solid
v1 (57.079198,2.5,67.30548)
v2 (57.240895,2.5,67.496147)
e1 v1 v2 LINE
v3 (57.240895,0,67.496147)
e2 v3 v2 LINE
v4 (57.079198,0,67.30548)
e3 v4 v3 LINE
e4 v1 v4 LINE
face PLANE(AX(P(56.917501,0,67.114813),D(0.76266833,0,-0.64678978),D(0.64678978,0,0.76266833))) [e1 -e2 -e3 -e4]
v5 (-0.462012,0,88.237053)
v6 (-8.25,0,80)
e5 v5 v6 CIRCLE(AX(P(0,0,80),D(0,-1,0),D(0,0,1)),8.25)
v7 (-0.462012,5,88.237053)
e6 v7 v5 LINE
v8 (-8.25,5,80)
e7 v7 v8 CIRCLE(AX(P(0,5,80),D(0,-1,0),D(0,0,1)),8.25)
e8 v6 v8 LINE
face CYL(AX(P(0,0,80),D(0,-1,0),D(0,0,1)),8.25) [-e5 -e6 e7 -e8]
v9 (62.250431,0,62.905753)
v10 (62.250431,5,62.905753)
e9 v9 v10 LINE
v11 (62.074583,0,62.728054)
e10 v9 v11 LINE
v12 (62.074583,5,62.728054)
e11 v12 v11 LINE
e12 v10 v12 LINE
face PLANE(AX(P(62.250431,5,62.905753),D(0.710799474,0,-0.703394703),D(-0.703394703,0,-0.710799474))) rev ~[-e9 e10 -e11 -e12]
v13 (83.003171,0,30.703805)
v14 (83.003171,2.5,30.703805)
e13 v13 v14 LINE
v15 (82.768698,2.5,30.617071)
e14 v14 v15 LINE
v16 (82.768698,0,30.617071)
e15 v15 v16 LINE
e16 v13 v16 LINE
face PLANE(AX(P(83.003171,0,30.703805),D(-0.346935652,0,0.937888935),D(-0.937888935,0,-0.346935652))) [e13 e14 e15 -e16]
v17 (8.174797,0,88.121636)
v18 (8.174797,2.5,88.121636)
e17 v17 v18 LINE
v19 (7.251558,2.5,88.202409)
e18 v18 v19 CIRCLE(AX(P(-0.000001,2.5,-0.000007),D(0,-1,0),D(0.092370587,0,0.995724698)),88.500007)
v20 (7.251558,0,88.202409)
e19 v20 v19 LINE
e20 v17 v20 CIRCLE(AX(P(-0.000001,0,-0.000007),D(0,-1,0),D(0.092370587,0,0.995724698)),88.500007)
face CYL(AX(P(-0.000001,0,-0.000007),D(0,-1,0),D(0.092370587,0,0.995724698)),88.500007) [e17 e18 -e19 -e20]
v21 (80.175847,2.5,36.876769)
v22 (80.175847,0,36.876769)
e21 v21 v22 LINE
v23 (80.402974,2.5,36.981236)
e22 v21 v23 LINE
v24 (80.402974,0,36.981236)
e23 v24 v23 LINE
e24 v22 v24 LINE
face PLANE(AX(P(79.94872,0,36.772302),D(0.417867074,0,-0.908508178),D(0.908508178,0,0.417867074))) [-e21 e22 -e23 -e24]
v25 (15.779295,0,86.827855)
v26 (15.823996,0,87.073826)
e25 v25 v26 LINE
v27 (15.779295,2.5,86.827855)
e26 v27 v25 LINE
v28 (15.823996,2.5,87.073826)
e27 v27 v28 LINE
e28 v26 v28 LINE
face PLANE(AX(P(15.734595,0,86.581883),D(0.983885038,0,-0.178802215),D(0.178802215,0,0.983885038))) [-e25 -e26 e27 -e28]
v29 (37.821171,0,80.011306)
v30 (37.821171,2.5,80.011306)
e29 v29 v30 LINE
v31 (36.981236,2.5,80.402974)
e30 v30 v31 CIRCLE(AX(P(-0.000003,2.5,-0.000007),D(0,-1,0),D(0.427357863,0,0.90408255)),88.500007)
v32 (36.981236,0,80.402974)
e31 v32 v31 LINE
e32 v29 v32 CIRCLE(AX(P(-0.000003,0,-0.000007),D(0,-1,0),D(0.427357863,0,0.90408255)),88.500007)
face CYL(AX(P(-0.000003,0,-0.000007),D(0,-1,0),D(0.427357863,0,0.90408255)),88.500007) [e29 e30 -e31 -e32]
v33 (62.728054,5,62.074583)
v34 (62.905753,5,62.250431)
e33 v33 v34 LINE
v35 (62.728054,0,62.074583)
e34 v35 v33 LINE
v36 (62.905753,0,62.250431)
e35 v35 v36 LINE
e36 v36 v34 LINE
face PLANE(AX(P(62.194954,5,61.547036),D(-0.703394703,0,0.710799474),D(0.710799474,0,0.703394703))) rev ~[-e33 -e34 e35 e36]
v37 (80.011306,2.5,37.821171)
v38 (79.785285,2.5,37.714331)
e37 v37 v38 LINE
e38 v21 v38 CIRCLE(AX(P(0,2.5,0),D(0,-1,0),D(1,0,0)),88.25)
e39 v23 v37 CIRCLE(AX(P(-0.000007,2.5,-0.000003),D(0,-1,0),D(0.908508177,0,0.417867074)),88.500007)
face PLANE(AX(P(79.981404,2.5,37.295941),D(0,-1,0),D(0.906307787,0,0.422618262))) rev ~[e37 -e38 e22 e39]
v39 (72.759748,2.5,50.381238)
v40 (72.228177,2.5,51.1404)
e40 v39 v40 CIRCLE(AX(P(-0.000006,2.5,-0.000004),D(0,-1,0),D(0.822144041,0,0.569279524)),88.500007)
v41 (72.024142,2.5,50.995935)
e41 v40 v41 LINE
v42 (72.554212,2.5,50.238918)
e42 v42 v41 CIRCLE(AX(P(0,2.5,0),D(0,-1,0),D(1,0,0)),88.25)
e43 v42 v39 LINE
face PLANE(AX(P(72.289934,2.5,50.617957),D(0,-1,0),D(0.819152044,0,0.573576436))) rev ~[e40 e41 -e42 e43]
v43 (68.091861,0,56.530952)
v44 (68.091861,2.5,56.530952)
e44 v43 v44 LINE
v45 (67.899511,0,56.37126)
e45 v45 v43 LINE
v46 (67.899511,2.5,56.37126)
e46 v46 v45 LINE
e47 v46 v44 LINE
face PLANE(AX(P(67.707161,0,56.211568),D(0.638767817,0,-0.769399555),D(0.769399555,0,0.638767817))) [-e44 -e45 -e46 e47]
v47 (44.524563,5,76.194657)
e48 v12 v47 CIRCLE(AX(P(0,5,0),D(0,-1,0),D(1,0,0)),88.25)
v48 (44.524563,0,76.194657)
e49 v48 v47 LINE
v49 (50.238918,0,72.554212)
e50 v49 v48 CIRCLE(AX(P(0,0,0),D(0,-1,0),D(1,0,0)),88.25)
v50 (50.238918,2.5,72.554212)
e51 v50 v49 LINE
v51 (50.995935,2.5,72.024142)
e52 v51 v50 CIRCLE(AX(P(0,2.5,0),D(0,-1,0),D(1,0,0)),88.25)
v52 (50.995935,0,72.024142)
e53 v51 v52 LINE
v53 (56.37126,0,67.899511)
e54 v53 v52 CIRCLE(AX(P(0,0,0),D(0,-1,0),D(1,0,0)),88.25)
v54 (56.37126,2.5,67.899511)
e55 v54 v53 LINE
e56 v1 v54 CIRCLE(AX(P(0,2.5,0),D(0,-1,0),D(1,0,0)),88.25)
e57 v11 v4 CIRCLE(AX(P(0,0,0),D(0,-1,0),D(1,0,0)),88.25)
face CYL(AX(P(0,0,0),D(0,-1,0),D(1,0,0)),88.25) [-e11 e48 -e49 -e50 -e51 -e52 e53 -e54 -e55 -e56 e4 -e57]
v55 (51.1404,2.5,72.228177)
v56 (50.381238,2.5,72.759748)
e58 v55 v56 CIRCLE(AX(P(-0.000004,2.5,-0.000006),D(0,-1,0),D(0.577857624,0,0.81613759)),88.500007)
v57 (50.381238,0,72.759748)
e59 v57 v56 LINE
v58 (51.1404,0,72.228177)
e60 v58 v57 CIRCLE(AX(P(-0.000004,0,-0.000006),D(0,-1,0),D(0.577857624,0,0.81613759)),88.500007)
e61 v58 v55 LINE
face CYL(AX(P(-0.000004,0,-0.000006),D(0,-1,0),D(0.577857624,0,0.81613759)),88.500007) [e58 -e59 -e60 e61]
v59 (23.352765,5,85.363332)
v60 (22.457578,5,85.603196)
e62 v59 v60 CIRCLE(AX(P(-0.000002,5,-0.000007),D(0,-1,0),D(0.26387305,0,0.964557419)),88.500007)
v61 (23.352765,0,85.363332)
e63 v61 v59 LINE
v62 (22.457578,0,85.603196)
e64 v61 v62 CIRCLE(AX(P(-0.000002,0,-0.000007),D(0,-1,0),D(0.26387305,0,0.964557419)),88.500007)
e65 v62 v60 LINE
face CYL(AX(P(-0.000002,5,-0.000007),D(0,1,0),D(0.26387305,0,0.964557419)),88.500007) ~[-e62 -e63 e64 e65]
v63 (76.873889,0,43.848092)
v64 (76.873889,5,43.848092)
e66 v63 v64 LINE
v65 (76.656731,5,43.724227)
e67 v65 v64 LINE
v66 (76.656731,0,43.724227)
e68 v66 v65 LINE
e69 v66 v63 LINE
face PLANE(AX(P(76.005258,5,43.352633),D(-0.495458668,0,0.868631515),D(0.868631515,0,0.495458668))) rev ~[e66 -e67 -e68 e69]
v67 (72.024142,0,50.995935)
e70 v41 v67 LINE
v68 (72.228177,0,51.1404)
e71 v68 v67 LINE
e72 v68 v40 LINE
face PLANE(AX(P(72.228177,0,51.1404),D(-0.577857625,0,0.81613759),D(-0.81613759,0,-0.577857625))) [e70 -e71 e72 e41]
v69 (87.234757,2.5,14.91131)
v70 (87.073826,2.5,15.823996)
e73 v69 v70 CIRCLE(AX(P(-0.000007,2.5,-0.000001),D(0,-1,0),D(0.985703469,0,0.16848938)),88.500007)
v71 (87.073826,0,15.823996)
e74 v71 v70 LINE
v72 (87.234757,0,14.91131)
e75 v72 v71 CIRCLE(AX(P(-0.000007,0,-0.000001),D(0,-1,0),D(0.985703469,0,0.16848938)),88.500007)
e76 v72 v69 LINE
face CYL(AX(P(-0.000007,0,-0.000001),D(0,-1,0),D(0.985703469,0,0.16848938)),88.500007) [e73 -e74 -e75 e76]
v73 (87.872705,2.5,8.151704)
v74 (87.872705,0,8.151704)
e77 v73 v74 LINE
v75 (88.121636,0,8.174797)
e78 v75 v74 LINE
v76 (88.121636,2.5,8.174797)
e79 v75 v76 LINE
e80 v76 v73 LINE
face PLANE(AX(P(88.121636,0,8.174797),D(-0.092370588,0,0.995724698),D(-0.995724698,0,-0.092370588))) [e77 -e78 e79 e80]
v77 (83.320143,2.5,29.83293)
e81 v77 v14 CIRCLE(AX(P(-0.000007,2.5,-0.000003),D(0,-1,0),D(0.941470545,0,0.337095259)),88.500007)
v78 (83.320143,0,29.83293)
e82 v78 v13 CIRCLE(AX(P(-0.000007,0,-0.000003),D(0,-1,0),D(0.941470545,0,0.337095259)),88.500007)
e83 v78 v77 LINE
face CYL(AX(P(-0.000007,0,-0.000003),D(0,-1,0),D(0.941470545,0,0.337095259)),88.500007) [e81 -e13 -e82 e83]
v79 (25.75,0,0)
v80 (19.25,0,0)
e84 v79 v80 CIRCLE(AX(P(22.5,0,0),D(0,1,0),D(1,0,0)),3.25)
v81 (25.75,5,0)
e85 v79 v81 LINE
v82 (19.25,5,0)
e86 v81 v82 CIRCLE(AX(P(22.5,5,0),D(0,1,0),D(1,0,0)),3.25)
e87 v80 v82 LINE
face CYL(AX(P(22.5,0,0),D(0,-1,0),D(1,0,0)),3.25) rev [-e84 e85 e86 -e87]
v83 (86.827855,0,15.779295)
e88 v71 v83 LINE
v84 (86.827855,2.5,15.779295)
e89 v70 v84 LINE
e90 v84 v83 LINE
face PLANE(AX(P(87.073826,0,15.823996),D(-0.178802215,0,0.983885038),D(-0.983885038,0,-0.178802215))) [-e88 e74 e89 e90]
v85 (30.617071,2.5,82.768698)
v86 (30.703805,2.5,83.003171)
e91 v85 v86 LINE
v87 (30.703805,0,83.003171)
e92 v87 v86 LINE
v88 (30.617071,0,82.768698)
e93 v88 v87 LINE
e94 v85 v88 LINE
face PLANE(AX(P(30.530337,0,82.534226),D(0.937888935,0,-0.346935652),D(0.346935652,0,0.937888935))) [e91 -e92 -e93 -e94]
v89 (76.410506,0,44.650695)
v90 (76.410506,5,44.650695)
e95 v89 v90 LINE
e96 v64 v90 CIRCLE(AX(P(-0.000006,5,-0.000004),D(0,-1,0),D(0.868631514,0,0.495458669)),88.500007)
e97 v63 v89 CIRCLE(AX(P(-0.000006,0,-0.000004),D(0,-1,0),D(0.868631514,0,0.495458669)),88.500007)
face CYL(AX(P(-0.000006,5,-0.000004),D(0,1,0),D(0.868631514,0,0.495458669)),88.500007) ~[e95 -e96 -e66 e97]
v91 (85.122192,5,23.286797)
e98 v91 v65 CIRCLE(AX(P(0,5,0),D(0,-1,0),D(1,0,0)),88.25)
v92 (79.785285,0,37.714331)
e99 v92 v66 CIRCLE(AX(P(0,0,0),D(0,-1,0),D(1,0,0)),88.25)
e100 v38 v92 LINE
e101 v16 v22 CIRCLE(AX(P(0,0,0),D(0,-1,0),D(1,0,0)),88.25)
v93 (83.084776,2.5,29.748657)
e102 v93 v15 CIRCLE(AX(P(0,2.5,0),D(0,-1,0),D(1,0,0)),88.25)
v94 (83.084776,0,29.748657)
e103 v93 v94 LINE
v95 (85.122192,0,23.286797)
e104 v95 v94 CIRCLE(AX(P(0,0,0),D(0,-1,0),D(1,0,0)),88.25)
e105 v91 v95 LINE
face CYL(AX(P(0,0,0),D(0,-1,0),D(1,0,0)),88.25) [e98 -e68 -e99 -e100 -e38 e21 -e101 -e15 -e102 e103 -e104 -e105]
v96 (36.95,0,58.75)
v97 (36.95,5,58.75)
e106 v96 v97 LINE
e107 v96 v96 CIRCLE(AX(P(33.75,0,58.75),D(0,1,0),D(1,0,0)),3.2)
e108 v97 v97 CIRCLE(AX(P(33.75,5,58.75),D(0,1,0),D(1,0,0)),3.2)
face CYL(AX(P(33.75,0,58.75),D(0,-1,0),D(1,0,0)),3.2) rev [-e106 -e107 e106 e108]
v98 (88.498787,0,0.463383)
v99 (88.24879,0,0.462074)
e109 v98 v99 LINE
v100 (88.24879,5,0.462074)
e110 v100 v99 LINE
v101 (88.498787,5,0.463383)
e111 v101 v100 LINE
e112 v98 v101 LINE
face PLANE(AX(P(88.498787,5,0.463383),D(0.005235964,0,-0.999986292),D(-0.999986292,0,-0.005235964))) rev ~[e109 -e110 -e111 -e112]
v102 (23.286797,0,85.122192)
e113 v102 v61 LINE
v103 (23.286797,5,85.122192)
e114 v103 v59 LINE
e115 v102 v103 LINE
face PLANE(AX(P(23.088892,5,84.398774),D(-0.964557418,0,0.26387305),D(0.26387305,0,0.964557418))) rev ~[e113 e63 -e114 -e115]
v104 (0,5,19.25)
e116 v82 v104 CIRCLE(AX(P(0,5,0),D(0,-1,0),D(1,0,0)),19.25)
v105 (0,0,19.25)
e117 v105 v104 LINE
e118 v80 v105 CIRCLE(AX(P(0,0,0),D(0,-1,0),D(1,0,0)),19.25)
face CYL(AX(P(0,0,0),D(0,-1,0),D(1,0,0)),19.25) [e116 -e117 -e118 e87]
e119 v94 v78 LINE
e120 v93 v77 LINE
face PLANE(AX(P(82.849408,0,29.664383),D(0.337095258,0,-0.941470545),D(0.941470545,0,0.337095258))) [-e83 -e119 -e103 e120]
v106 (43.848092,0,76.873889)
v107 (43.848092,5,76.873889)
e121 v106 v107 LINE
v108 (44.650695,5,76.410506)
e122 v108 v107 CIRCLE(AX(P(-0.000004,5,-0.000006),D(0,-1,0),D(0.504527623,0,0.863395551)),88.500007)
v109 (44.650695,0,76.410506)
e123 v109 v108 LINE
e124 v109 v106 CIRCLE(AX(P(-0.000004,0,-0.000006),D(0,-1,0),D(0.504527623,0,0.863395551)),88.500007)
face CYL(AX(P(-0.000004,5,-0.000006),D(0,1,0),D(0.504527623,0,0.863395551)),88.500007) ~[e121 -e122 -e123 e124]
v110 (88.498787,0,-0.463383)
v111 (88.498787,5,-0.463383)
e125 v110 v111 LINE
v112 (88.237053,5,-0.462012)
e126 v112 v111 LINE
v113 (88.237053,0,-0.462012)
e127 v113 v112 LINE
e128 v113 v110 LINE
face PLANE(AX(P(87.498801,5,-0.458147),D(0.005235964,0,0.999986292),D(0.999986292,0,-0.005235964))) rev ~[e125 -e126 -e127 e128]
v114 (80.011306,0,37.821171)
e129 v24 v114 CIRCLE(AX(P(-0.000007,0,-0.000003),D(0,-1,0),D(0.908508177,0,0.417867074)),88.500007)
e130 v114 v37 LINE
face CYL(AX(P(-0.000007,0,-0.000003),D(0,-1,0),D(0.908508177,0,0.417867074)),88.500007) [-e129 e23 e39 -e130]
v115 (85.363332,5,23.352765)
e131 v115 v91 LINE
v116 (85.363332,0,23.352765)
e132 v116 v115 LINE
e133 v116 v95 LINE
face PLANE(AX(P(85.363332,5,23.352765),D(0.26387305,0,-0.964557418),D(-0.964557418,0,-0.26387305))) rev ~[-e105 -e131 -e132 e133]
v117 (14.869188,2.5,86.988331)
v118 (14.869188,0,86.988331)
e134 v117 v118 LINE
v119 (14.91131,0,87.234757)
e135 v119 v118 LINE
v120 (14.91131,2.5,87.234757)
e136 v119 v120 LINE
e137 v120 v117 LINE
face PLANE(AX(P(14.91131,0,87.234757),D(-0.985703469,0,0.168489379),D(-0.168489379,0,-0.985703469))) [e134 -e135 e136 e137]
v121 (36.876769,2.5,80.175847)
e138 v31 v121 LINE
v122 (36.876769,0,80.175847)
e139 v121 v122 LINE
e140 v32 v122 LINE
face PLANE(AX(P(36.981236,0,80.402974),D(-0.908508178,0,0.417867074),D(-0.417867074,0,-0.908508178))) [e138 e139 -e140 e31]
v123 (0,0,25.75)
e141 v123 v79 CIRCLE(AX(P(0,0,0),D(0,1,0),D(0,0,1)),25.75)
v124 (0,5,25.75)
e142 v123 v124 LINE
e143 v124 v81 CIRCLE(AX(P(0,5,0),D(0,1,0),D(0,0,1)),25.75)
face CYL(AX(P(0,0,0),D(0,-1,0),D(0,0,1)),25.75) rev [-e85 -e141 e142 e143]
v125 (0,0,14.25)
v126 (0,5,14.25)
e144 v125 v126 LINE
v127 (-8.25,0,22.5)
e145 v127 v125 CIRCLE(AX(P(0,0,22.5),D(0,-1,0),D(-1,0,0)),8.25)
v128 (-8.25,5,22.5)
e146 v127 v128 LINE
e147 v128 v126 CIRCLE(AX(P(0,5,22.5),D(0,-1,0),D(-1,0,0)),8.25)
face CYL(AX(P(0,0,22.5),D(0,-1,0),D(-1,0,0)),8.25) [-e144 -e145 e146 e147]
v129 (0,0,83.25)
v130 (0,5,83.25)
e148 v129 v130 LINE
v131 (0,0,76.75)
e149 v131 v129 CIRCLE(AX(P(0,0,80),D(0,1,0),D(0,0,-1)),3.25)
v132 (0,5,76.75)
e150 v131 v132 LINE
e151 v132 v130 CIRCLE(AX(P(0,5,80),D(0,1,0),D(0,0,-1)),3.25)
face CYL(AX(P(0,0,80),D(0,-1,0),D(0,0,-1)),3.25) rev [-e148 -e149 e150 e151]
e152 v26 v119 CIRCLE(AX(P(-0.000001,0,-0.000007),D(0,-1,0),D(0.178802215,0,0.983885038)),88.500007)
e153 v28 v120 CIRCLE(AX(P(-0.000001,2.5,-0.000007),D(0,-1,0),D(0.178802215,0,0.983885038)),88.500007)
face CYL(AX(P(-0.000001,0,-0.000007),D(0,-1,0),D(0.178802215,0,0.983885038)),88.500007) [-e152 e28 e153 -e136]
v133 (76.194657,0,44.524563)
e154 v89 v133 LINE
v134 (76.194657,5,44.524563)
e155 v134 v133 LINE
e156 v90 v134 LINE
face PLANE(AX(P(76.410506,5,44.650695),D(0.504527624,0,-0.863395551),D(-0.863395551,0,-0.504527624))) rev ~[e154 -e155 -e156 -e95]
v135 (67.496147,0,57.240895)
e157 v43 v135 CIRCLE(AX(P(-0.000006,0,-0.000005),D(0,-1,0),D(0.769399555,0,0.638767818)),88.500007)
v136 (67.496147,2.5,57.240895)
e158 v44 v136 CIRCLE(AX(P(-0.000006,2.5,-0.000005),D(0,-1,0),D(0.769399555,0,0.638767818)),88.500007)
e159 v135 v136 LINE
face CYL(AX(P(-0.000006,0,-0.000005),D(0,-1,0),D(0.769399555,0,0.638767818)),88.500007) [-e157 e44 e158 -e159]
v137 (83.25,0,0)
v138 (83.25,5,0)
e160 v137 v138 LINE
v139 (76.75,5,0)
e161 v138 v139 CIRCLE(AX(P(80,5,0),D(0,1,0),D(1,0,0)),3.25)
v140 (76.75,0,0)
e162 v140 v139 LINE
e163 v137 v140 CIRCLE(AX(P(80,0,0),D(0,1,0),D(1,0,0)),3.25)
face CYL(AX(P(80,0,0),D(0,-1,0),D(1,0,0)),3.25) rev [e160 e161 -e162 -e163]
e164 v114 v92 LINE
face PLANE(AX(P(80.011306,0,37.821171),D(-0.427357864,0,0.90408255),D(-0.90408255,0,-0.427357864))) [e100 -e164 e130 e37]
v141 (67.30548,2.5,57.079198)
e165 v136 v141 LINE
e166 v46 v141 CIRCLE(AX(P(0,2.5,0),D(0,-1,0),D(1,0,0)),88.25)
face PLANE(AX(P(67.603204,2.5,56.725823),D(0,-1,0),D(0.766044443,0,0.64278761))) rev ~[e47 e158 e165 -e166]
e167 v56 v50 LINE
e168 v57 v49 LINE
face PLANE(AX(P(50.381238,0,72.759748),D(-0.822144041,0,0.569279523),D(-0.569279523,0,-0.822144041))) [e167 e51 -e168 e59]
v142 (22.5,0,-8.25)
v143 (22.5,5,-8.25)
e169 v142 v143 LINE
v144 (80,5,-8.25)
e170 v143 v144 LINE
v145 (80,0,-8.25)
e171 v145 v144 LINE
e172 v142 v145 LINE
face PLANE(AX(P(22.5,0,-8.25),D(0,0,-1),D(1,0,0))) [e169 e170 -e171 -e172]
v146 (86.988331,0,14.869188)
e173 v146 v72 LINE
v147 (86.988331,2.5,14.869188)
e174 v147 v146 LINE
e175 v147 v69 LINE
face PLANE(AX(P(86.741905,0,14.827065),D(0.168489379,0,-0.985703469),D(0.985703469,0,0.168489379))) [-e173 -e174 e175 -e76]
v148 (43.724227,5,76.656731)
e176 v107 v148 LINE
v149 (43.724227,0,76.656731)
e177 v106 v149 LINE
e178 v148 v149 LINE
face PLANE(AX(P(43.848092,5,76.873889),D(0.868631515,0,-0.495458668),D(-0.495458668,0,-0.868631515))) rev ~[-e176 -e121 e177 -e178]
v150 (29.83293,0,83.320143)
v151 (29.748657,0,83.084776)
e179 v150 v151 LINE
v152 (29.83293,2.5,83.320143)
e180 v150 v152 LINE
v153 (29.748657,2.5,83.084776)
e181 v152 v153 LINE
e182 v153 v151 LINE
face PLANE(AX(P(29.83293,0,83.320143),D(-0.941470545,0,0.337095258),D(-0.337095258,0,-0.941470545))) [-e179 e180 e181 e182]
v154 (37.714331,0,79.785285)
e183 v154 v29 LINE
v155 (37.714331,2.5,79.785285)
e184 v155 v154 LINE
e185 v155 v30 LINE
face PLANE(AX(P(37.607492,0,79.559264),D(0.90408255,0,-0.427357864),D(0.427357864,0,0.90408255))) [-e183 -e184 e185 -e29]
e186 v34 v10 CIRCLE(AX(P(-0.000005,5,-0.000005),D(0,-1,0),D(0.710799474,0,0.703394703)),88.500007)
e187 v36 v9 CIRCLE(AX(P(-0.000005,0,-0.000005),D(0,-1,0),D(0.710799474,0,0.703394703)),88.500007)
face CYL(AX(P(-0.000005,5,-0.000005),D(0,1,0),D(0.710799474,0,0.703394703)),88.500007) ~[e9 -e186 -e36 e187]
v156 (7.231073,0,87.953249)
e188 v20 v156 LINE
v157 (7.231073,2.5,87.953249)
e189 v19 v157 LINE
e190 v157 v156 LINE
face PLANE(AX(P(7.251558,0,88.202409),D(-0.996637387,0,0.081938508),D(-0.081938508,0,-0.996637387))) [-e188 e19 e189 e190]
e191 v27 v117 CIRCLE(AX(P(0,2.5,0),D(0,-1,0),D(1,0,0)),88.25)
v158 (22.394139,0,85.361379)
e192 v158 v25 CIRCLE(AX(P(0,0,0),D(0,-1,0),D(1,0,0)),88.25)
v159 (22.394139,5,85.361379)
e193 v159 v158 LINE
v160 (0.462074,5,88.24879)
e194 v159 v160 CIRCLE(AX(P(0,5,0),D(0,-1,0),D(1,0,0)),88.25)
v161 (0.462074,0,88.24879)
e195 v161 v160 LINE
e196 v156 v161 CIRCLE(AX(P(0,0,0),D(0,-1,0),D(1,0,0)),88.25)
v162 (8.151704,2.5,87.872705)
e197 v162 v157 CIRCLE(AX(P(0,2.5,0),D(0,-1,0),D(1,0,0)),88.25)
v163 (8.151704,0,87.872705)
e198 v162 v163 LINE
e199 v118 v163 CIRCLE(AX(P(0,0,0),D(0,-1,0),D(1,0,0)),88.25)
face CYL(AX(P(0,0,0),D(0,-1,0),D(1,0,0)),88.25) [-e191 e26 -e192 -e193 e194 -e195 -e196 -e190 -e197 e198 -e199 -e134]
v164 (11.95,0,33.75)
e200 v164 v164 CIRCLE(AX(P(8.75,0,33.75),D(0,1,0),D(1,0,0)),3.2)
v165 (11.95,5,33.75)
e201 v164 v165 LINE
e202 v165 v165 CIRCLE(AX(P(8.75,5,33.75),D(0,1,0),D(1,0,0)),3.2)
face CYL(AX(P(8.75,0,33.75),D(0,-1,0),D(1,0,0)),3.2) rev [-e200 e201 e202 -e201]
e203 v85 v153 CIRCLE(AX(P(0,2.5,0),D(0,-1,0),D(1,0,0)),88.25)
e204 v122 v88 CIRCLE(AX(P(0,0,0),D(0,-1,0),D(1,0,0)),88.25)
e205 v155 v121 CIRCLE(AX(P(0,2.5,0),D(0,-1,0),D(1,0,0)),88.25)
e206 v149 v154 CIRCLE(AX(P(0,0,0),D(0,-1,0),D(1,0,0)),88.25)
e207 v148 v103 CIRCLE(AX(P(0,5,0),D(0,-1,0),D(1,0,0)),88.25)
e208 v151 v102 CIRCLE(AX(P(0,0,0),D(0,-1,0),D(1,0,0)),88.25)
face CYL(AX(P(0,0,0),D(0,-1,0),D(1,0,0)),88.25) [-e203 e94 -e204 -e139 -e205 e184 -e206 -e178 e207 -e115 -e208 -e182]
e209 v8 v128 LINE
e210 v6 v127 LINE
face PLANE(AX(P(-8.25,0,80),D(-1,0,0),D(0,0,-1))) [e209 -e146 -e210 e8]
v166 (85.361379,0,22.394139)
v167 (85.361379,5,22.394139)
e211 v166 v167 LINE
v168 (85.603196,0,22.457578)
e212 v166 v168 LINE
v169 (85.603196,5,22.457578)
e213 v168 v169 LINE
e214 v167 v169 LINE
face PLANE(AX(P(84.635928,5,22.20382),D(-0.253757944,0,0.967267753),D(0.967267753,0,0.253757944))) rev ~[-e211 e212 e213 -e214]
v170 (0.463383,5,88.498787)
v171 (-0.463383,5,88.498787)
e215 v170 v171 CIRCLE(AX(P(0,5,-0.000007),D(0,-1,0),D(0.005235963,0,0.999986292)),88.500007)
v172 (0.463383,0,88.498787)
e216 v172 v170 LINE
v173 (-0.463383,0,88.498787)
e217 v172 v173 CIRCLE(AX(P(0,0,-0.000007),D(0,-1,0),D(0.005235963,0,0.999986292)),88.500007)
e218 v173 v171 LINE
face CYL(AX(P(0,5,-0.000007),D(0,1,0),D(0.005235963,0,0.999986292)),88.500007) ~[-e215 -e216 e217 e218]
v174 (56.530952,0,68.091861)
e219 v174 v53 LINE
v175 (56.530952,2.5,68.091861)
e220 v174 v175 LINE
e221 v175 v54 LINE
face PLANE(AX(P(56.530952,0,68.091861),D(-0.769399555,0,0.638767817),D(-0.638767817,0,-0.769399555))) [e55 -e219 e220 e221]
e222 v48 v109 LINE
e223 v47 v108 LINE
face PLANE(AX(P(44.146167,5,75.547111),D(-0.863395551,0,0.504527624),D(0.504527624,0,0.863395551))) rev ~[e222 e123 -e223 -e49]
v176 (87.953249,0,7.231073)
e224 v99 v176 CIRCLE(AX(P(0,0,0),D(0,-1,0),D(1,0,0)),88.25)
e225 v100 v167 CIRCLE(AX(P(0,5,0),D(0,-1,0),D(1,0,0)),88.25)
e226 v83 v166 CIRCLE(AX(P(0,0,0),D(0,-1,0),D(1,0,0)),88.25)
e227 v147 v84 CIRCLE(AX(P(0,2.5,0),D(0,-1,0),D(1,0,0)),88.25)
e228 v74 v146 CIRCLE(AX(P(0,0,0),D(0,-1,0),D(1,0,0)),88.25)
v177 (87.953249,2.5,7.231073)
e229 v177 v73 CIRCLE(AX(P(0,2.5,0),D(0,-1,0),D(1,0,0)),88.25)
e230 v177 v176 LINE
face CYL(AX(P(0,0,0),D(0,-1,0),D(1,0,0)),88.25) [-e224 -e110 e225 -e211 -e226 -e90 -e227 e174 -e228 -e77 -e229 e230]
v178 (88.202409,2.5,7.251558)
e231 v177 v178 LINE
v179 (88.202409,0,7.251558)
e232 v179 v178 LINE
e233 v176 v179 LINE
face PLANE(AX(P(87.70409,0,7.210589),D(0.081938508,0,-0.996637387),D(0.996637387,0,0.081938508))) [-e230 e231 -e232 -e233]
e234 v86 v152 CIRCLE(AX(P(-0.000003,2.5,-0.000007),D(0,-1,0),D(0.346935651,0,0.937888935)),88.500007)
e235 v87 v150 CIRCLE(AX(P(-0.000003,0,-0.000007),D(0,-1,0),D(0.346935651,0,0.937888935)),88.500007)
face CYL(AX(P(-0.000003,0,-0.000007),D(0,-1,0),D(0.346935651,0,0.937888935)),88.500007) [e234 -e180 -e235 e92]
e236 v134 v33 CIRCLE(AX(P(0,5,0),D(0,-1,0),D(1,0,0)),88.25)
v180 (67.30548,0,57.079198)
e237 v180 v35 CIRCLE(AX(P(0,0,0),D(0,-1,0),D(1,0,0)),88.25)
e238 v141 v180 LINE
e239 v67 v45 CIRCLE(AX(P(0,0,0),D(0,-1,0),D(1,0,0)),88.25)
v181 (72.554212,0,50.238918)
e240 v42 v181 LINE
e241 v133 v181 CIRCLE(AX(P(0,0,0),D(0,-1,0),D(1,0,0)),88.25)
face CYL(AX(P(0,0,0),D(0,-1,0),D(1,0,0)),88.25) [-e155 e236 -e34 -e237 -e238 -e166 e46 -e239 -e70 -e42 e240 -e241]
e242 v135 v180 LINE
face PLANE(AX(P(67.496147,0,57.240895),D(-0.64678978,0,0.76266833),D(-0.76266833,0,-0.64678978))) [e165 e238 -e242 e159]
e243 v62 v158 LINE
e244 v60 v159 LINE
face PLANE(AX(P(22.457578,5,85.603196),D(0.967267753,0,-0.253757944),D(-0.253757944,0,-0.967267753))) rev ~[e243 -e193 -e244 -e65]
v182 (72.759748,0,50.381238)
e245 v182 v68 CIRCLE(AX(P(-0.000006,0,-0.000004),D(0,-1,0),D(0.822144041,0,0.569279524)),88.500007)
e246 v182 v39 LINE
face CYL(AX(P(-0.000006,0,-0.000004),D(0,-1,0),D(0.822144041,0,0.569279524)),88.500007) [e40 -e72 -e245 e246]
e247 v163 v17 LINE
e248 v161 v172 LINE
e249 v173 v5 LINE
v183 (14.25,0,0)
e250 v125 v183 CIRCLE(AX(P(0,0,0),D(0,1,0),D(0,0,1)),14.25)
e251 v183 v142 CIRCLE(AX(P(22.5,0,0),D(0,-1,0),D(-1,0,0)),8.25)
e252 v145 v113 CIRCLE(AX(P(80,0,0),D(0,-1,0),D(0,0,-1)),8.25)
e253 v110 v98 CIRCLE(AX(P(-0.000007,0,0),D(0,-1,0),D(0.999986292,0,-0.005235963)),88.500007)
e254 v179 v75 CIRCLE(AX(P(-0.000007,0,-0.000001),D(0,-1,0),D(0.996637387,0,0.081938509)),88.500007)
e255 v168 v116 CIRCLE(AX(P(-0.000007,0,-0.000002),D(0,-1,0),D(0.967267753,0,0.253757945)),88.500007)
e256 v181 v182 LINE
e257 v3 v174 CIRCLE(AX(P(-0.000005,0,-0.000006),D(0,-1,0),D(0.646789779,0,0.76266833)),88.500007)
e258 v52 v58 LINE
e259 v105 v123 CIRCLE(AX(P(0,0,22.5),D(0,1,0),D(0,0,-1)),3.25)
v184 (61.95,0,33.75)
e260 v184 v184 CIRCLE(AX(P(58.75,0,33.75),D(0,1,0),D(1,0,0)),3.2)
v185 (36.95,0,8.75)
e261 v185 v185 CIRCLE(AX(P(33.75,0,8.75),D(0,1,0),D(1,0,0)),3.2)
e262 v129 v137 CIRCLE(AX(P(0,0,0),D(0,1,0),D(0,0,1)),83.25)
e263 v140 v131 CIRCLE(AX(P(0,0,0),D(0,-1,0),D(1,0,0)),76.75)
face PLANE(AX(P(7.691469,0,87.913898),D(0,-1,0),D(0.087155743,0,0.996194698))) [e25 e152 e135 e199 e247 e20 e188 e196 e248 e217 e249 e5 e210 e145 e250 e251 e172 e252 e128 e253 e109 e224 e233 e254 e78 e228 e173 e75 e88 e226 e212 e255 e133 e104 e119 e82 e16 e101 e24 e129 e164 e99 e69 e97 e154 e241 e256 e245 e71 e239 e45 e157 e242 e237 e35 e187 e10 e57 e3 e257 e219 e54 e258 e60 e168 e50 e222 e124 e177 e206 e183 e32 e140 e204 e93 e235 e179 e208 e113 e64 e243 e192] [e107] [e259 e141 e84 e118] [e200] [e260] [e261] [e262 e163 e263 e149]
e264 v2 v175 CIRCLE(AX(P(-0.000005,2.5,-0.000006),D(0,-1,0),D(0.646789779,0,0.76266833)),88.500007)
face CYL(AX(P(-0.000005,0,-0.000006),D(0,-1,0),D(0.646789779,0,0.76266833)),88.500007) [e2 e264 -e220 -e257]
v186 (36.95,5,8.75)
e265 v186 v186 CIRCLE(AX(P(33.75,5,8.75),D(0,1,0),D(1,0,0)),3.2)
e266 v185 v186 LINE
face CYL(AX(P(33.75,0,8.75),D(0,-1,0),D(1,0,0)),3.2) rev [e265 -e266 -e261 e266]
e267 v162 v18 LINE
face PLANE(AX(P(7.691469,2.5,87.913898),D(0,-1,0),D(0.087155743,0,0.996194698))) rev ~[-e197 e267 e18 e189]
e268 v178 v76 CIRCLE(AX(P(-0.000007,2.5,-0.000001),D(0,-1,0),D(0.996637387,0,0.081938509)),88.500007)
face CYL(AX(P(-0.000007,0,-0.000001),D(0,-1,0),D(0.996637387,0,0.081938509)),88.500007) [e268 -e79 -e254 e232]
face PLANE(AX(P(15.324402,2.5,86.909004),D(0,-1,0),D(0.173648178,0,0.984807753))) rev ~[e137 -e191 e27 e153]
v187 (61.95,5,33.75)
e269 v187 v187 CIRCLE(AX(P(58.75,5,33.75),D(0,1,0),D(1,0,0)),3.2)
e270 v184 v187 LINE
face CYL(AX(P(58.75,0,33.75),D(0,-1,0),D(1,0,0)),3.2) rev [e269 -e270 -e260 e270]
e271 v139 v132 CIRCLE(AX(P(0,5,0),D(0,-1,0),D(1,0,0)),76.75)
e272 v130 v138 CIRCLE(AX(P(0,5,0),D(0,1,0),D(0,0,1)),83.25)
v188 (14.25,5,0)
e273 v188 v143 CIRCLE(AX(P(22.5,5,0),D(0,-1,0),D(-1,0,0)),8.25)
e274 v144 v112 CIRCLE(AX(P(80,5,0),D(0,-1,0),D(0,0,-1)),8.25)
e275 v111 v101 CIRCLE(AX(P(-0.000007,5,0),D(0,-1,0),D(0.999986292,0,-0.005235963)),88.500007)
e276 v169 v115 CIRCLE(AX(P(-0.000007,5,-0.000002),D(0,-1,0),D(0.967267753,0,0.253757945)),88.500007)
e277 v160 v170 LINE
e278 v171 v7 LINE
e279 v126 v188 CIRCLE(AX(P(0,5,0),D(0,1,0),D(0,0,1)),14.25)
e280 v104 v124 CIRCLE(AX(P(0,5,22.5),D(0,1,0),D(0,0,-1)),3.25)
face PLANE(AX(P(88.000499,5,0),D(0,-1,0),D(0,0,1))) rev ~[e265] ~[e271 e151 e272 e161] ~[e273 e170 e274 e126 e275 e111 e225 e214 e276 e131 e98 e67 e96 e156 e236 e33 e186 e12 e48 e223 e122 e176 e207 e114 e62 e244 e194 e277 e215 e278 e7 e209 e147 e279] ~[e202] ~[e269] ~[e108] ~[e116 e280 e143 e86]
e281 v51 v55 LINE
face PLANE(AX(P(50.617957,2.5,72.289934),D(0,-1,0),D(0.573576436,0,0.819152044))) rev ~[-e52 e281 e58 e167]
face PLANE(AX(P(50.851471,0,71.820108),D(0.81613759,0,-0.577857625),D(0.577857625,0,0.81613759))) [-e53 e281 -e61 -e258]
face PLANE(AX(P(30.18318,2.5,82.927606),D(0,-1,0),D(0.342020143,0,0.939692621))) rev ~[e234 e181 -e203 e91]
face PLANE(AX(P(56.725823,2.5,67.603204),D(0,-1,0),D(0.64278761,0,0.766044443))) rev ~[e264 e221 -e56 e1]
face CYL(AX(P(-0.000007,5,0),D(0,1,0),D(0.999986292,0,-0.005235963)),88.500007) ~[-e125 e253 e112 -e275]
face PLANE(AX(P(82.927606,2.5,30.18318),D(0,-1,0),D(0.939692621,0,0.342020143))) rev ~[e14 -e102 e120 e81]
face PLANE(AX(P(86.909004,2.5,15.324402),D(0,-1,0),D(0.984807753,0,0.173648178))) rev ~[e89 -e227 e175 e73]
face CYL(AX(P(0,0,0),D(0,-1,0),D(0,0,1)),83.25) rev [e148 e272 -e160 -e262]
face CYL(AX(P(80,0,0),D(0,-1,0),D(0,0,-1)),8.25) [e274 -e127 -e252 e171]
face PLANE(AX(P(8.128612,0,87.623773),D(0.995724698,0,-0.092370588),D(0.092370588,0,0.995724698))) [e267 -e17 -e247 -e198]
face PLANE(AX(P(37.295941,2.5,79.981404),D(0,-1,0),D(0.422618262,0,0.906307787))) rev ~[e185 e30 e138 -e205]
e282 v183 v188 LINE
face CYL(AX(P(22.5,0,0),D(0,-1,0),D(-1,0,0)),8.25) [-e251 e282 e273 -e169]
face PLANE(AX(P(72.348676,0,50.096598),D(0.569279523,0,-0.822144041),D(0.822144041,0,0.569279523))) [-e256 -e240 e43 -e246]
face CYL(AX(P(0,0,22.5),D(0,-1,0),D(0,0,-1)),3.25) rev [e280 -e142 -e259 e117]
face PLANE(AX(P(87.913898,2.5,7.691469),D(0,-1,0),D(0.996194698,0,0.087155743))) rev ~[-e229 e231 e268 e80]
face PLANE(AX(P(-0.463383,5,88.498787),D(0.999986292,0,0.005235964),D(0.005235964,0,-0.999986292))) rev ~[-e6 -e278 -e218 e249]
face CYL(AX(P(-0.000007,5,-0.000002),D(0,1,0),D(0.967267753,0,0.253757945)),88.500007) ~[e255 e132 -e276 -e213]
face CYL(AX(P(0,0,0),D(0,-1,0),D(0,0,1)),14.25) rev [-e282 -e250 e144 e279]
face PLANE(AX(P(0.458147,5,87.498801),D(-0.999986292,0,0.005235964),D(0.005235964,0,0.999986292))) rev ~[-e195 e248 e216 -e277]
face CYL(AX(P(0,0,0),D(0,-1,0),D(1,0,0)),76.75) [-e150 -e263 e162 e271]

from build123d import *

# Parameters (mm, degrees)
SKETCH_1_R               = 3.2
EXTRUDE_1_DEPTH          = 5
EXTRUDE_2_DEPTH          = 5
PATTERN_CIRCULAR_1_COUNT = 7
PATTERN_CIRCULAR_1_ANGLE = 90
EXTRUDE_3_DEPTH          = 2.5
PATTERN_CIRCULAR_2_COUNT = 19
PATTERN_CIRCULAR_2_ANGLE = 90


with BuildPart() as part:
    # 스케치1 → 보스-돌출1 (new body)
    with BuildSketch(Plane(origin=(0, 0, 0), x_dir=(1, 0, 0), z_dir=(0, 1, 0))):
        with BuildLine():
            Line((-8.25, -80), (-8.25, -22.5))
            ThreePointArc((-8.25, -22.5), (-5.833630945, -16.666369055), (0, -14.25))
            ThreePointArc((0, -14.25), (10.076271632, -10.076271632), (14.25, 0))
            ThreePointArc((14.25, 0), (16.666369055, 5.833630945), (22.5, 8.25))
            Line((22.5, 8.25), (80, 8.25))
            ThreePointArc((80, 8.25), (85.833630945, 5.833630945), (88.25, 0))
            ThreePointArc((88.25, 0), (62.40217344, -62.40217344), (0, -88.25))
            ThreePointArc((0, -88.25), (-5.833630945, -85.833630945), (-8.25, -80))
        make_face()
        with Locations((58.75, -33.75)):
            Circle(SKETCH_1_R, mode=Mode.SUBTRACT)
        with Locations((33.75, -58.75)):
            Circle(SKETCH_1_R, mode=Mode.SUBTRACT)
        with Locations((8.75, -33.75)):
            Circle(SKETCH_1_R, mode=Mode.SUBTRACT)
        with Locations((33.75, -8.75)):
            Circle(SKETCH_1_R, mode=Mode.SUBTRACT)
        with BuildLine():
            ThreePointArc((0, -19.25), (-3.25, -22.5), (0, -25.75))
            ThreePointArc((0, -25.75), (18.207999616, -18.207999616), (25.75, 0))
            ThreePointArc((25.75, 0), (22.5, 3.25), (19.25, 0))
            ThreePointArc((19.25, 0), (13.611805538, -13.611805538), (0, -19.25))
        make_face(mode=Mode.SUBTRACT)
        with BuildLine():
            ThreePointArc((0, -76.75), (-3.25, -80), (0, -83.25))
            ThreePointArc((0, -83.25), (58.866639534, -58.866639534), (83.25, 0))
            ThreePointArc((83.25, 0), (80, 3.25), (76.75, 0))
            ThreePointArc((76.75, 0), (54.270445456, -54.270445456), (0, -76.75))
        make_face(mode=Mode.SUBTRACT)
    extrude(amount=EXTRUDE_1_DEPTH)

    # 스케치2 → 보스-돌출2 (add)
    with BuildSketch(Plane(origin=(0, 5, 0), x_dir=(1, 0, 0), z_dir=(0, 1, 0))):
        with BuildLine():
            Line((0.458146835, -87.498800572), (0.463382799, -88.498786864))
            ThreePointArc((0.463382799, -88.498786864), (0, -88.5), (-0.463382799, -88.498786864))
            Line((-0.463382799, -88.498786864), (-0.458146835, -87.498800572))
            ThreePointArc((-0.458146835, -87.498800572), (0, -87.5), (0.458146835, -87.498800572))
        make_face()
    extrude_2 = extrude(amount=-EXTRUDE_2_DEPTH)

    # 원형 패턴1: 보스-돌출2 ×7 about axis
    pattern_circular_1_axis = Axis((0, 0, 0), (0, 1, 0))
    for i in range(1, PATTERN_CIRCULAR_1_COUNT):
        add(extrude_2.rotate(pattern_circular_1_axis, i * PATTERN_CIRCULAR_1_ANGLE / (PATTERN_CIRCULAR_1_COUNT - 1)))

    # 스케치6 → 보스-돌출3 (add)
    with BuildSketch(Plane.XZ):
        with BuildLine():
            Line((88.498786864, 0.463382799), (87.998793718, 0.460764817))
            ThreePointArc((87.998793718, 0.460764817), (88, 0), (87.998793718, -0.460764817))
            Line((87.998793718, -0.460764817), (88.498786864, -0.463382799))
            ThreePointArc((88.498786864, -0.463382799), (88.5, 0), (88.498786864, 0.463382799))
        make_face()
    extrude_3 = extrude(amount=-EXTRUDE_3_DEPTH)

    # 원형 패턴2: 보스-돌출3 ×19 about axis
    pattern_circular_2_axis = Axis((0, 5, 0), (0, -1, 0))
    for i in range(1, PATTERN_CIRCULAR_2_COUNT):
        add(extrude_3.rotate(pattern_circular_2_axis, i * PATTERN_CIRCULAR_2_ANGLE / (PATTERN_CIRCULAR_2_COUNT - 1)))


solid = part.part
